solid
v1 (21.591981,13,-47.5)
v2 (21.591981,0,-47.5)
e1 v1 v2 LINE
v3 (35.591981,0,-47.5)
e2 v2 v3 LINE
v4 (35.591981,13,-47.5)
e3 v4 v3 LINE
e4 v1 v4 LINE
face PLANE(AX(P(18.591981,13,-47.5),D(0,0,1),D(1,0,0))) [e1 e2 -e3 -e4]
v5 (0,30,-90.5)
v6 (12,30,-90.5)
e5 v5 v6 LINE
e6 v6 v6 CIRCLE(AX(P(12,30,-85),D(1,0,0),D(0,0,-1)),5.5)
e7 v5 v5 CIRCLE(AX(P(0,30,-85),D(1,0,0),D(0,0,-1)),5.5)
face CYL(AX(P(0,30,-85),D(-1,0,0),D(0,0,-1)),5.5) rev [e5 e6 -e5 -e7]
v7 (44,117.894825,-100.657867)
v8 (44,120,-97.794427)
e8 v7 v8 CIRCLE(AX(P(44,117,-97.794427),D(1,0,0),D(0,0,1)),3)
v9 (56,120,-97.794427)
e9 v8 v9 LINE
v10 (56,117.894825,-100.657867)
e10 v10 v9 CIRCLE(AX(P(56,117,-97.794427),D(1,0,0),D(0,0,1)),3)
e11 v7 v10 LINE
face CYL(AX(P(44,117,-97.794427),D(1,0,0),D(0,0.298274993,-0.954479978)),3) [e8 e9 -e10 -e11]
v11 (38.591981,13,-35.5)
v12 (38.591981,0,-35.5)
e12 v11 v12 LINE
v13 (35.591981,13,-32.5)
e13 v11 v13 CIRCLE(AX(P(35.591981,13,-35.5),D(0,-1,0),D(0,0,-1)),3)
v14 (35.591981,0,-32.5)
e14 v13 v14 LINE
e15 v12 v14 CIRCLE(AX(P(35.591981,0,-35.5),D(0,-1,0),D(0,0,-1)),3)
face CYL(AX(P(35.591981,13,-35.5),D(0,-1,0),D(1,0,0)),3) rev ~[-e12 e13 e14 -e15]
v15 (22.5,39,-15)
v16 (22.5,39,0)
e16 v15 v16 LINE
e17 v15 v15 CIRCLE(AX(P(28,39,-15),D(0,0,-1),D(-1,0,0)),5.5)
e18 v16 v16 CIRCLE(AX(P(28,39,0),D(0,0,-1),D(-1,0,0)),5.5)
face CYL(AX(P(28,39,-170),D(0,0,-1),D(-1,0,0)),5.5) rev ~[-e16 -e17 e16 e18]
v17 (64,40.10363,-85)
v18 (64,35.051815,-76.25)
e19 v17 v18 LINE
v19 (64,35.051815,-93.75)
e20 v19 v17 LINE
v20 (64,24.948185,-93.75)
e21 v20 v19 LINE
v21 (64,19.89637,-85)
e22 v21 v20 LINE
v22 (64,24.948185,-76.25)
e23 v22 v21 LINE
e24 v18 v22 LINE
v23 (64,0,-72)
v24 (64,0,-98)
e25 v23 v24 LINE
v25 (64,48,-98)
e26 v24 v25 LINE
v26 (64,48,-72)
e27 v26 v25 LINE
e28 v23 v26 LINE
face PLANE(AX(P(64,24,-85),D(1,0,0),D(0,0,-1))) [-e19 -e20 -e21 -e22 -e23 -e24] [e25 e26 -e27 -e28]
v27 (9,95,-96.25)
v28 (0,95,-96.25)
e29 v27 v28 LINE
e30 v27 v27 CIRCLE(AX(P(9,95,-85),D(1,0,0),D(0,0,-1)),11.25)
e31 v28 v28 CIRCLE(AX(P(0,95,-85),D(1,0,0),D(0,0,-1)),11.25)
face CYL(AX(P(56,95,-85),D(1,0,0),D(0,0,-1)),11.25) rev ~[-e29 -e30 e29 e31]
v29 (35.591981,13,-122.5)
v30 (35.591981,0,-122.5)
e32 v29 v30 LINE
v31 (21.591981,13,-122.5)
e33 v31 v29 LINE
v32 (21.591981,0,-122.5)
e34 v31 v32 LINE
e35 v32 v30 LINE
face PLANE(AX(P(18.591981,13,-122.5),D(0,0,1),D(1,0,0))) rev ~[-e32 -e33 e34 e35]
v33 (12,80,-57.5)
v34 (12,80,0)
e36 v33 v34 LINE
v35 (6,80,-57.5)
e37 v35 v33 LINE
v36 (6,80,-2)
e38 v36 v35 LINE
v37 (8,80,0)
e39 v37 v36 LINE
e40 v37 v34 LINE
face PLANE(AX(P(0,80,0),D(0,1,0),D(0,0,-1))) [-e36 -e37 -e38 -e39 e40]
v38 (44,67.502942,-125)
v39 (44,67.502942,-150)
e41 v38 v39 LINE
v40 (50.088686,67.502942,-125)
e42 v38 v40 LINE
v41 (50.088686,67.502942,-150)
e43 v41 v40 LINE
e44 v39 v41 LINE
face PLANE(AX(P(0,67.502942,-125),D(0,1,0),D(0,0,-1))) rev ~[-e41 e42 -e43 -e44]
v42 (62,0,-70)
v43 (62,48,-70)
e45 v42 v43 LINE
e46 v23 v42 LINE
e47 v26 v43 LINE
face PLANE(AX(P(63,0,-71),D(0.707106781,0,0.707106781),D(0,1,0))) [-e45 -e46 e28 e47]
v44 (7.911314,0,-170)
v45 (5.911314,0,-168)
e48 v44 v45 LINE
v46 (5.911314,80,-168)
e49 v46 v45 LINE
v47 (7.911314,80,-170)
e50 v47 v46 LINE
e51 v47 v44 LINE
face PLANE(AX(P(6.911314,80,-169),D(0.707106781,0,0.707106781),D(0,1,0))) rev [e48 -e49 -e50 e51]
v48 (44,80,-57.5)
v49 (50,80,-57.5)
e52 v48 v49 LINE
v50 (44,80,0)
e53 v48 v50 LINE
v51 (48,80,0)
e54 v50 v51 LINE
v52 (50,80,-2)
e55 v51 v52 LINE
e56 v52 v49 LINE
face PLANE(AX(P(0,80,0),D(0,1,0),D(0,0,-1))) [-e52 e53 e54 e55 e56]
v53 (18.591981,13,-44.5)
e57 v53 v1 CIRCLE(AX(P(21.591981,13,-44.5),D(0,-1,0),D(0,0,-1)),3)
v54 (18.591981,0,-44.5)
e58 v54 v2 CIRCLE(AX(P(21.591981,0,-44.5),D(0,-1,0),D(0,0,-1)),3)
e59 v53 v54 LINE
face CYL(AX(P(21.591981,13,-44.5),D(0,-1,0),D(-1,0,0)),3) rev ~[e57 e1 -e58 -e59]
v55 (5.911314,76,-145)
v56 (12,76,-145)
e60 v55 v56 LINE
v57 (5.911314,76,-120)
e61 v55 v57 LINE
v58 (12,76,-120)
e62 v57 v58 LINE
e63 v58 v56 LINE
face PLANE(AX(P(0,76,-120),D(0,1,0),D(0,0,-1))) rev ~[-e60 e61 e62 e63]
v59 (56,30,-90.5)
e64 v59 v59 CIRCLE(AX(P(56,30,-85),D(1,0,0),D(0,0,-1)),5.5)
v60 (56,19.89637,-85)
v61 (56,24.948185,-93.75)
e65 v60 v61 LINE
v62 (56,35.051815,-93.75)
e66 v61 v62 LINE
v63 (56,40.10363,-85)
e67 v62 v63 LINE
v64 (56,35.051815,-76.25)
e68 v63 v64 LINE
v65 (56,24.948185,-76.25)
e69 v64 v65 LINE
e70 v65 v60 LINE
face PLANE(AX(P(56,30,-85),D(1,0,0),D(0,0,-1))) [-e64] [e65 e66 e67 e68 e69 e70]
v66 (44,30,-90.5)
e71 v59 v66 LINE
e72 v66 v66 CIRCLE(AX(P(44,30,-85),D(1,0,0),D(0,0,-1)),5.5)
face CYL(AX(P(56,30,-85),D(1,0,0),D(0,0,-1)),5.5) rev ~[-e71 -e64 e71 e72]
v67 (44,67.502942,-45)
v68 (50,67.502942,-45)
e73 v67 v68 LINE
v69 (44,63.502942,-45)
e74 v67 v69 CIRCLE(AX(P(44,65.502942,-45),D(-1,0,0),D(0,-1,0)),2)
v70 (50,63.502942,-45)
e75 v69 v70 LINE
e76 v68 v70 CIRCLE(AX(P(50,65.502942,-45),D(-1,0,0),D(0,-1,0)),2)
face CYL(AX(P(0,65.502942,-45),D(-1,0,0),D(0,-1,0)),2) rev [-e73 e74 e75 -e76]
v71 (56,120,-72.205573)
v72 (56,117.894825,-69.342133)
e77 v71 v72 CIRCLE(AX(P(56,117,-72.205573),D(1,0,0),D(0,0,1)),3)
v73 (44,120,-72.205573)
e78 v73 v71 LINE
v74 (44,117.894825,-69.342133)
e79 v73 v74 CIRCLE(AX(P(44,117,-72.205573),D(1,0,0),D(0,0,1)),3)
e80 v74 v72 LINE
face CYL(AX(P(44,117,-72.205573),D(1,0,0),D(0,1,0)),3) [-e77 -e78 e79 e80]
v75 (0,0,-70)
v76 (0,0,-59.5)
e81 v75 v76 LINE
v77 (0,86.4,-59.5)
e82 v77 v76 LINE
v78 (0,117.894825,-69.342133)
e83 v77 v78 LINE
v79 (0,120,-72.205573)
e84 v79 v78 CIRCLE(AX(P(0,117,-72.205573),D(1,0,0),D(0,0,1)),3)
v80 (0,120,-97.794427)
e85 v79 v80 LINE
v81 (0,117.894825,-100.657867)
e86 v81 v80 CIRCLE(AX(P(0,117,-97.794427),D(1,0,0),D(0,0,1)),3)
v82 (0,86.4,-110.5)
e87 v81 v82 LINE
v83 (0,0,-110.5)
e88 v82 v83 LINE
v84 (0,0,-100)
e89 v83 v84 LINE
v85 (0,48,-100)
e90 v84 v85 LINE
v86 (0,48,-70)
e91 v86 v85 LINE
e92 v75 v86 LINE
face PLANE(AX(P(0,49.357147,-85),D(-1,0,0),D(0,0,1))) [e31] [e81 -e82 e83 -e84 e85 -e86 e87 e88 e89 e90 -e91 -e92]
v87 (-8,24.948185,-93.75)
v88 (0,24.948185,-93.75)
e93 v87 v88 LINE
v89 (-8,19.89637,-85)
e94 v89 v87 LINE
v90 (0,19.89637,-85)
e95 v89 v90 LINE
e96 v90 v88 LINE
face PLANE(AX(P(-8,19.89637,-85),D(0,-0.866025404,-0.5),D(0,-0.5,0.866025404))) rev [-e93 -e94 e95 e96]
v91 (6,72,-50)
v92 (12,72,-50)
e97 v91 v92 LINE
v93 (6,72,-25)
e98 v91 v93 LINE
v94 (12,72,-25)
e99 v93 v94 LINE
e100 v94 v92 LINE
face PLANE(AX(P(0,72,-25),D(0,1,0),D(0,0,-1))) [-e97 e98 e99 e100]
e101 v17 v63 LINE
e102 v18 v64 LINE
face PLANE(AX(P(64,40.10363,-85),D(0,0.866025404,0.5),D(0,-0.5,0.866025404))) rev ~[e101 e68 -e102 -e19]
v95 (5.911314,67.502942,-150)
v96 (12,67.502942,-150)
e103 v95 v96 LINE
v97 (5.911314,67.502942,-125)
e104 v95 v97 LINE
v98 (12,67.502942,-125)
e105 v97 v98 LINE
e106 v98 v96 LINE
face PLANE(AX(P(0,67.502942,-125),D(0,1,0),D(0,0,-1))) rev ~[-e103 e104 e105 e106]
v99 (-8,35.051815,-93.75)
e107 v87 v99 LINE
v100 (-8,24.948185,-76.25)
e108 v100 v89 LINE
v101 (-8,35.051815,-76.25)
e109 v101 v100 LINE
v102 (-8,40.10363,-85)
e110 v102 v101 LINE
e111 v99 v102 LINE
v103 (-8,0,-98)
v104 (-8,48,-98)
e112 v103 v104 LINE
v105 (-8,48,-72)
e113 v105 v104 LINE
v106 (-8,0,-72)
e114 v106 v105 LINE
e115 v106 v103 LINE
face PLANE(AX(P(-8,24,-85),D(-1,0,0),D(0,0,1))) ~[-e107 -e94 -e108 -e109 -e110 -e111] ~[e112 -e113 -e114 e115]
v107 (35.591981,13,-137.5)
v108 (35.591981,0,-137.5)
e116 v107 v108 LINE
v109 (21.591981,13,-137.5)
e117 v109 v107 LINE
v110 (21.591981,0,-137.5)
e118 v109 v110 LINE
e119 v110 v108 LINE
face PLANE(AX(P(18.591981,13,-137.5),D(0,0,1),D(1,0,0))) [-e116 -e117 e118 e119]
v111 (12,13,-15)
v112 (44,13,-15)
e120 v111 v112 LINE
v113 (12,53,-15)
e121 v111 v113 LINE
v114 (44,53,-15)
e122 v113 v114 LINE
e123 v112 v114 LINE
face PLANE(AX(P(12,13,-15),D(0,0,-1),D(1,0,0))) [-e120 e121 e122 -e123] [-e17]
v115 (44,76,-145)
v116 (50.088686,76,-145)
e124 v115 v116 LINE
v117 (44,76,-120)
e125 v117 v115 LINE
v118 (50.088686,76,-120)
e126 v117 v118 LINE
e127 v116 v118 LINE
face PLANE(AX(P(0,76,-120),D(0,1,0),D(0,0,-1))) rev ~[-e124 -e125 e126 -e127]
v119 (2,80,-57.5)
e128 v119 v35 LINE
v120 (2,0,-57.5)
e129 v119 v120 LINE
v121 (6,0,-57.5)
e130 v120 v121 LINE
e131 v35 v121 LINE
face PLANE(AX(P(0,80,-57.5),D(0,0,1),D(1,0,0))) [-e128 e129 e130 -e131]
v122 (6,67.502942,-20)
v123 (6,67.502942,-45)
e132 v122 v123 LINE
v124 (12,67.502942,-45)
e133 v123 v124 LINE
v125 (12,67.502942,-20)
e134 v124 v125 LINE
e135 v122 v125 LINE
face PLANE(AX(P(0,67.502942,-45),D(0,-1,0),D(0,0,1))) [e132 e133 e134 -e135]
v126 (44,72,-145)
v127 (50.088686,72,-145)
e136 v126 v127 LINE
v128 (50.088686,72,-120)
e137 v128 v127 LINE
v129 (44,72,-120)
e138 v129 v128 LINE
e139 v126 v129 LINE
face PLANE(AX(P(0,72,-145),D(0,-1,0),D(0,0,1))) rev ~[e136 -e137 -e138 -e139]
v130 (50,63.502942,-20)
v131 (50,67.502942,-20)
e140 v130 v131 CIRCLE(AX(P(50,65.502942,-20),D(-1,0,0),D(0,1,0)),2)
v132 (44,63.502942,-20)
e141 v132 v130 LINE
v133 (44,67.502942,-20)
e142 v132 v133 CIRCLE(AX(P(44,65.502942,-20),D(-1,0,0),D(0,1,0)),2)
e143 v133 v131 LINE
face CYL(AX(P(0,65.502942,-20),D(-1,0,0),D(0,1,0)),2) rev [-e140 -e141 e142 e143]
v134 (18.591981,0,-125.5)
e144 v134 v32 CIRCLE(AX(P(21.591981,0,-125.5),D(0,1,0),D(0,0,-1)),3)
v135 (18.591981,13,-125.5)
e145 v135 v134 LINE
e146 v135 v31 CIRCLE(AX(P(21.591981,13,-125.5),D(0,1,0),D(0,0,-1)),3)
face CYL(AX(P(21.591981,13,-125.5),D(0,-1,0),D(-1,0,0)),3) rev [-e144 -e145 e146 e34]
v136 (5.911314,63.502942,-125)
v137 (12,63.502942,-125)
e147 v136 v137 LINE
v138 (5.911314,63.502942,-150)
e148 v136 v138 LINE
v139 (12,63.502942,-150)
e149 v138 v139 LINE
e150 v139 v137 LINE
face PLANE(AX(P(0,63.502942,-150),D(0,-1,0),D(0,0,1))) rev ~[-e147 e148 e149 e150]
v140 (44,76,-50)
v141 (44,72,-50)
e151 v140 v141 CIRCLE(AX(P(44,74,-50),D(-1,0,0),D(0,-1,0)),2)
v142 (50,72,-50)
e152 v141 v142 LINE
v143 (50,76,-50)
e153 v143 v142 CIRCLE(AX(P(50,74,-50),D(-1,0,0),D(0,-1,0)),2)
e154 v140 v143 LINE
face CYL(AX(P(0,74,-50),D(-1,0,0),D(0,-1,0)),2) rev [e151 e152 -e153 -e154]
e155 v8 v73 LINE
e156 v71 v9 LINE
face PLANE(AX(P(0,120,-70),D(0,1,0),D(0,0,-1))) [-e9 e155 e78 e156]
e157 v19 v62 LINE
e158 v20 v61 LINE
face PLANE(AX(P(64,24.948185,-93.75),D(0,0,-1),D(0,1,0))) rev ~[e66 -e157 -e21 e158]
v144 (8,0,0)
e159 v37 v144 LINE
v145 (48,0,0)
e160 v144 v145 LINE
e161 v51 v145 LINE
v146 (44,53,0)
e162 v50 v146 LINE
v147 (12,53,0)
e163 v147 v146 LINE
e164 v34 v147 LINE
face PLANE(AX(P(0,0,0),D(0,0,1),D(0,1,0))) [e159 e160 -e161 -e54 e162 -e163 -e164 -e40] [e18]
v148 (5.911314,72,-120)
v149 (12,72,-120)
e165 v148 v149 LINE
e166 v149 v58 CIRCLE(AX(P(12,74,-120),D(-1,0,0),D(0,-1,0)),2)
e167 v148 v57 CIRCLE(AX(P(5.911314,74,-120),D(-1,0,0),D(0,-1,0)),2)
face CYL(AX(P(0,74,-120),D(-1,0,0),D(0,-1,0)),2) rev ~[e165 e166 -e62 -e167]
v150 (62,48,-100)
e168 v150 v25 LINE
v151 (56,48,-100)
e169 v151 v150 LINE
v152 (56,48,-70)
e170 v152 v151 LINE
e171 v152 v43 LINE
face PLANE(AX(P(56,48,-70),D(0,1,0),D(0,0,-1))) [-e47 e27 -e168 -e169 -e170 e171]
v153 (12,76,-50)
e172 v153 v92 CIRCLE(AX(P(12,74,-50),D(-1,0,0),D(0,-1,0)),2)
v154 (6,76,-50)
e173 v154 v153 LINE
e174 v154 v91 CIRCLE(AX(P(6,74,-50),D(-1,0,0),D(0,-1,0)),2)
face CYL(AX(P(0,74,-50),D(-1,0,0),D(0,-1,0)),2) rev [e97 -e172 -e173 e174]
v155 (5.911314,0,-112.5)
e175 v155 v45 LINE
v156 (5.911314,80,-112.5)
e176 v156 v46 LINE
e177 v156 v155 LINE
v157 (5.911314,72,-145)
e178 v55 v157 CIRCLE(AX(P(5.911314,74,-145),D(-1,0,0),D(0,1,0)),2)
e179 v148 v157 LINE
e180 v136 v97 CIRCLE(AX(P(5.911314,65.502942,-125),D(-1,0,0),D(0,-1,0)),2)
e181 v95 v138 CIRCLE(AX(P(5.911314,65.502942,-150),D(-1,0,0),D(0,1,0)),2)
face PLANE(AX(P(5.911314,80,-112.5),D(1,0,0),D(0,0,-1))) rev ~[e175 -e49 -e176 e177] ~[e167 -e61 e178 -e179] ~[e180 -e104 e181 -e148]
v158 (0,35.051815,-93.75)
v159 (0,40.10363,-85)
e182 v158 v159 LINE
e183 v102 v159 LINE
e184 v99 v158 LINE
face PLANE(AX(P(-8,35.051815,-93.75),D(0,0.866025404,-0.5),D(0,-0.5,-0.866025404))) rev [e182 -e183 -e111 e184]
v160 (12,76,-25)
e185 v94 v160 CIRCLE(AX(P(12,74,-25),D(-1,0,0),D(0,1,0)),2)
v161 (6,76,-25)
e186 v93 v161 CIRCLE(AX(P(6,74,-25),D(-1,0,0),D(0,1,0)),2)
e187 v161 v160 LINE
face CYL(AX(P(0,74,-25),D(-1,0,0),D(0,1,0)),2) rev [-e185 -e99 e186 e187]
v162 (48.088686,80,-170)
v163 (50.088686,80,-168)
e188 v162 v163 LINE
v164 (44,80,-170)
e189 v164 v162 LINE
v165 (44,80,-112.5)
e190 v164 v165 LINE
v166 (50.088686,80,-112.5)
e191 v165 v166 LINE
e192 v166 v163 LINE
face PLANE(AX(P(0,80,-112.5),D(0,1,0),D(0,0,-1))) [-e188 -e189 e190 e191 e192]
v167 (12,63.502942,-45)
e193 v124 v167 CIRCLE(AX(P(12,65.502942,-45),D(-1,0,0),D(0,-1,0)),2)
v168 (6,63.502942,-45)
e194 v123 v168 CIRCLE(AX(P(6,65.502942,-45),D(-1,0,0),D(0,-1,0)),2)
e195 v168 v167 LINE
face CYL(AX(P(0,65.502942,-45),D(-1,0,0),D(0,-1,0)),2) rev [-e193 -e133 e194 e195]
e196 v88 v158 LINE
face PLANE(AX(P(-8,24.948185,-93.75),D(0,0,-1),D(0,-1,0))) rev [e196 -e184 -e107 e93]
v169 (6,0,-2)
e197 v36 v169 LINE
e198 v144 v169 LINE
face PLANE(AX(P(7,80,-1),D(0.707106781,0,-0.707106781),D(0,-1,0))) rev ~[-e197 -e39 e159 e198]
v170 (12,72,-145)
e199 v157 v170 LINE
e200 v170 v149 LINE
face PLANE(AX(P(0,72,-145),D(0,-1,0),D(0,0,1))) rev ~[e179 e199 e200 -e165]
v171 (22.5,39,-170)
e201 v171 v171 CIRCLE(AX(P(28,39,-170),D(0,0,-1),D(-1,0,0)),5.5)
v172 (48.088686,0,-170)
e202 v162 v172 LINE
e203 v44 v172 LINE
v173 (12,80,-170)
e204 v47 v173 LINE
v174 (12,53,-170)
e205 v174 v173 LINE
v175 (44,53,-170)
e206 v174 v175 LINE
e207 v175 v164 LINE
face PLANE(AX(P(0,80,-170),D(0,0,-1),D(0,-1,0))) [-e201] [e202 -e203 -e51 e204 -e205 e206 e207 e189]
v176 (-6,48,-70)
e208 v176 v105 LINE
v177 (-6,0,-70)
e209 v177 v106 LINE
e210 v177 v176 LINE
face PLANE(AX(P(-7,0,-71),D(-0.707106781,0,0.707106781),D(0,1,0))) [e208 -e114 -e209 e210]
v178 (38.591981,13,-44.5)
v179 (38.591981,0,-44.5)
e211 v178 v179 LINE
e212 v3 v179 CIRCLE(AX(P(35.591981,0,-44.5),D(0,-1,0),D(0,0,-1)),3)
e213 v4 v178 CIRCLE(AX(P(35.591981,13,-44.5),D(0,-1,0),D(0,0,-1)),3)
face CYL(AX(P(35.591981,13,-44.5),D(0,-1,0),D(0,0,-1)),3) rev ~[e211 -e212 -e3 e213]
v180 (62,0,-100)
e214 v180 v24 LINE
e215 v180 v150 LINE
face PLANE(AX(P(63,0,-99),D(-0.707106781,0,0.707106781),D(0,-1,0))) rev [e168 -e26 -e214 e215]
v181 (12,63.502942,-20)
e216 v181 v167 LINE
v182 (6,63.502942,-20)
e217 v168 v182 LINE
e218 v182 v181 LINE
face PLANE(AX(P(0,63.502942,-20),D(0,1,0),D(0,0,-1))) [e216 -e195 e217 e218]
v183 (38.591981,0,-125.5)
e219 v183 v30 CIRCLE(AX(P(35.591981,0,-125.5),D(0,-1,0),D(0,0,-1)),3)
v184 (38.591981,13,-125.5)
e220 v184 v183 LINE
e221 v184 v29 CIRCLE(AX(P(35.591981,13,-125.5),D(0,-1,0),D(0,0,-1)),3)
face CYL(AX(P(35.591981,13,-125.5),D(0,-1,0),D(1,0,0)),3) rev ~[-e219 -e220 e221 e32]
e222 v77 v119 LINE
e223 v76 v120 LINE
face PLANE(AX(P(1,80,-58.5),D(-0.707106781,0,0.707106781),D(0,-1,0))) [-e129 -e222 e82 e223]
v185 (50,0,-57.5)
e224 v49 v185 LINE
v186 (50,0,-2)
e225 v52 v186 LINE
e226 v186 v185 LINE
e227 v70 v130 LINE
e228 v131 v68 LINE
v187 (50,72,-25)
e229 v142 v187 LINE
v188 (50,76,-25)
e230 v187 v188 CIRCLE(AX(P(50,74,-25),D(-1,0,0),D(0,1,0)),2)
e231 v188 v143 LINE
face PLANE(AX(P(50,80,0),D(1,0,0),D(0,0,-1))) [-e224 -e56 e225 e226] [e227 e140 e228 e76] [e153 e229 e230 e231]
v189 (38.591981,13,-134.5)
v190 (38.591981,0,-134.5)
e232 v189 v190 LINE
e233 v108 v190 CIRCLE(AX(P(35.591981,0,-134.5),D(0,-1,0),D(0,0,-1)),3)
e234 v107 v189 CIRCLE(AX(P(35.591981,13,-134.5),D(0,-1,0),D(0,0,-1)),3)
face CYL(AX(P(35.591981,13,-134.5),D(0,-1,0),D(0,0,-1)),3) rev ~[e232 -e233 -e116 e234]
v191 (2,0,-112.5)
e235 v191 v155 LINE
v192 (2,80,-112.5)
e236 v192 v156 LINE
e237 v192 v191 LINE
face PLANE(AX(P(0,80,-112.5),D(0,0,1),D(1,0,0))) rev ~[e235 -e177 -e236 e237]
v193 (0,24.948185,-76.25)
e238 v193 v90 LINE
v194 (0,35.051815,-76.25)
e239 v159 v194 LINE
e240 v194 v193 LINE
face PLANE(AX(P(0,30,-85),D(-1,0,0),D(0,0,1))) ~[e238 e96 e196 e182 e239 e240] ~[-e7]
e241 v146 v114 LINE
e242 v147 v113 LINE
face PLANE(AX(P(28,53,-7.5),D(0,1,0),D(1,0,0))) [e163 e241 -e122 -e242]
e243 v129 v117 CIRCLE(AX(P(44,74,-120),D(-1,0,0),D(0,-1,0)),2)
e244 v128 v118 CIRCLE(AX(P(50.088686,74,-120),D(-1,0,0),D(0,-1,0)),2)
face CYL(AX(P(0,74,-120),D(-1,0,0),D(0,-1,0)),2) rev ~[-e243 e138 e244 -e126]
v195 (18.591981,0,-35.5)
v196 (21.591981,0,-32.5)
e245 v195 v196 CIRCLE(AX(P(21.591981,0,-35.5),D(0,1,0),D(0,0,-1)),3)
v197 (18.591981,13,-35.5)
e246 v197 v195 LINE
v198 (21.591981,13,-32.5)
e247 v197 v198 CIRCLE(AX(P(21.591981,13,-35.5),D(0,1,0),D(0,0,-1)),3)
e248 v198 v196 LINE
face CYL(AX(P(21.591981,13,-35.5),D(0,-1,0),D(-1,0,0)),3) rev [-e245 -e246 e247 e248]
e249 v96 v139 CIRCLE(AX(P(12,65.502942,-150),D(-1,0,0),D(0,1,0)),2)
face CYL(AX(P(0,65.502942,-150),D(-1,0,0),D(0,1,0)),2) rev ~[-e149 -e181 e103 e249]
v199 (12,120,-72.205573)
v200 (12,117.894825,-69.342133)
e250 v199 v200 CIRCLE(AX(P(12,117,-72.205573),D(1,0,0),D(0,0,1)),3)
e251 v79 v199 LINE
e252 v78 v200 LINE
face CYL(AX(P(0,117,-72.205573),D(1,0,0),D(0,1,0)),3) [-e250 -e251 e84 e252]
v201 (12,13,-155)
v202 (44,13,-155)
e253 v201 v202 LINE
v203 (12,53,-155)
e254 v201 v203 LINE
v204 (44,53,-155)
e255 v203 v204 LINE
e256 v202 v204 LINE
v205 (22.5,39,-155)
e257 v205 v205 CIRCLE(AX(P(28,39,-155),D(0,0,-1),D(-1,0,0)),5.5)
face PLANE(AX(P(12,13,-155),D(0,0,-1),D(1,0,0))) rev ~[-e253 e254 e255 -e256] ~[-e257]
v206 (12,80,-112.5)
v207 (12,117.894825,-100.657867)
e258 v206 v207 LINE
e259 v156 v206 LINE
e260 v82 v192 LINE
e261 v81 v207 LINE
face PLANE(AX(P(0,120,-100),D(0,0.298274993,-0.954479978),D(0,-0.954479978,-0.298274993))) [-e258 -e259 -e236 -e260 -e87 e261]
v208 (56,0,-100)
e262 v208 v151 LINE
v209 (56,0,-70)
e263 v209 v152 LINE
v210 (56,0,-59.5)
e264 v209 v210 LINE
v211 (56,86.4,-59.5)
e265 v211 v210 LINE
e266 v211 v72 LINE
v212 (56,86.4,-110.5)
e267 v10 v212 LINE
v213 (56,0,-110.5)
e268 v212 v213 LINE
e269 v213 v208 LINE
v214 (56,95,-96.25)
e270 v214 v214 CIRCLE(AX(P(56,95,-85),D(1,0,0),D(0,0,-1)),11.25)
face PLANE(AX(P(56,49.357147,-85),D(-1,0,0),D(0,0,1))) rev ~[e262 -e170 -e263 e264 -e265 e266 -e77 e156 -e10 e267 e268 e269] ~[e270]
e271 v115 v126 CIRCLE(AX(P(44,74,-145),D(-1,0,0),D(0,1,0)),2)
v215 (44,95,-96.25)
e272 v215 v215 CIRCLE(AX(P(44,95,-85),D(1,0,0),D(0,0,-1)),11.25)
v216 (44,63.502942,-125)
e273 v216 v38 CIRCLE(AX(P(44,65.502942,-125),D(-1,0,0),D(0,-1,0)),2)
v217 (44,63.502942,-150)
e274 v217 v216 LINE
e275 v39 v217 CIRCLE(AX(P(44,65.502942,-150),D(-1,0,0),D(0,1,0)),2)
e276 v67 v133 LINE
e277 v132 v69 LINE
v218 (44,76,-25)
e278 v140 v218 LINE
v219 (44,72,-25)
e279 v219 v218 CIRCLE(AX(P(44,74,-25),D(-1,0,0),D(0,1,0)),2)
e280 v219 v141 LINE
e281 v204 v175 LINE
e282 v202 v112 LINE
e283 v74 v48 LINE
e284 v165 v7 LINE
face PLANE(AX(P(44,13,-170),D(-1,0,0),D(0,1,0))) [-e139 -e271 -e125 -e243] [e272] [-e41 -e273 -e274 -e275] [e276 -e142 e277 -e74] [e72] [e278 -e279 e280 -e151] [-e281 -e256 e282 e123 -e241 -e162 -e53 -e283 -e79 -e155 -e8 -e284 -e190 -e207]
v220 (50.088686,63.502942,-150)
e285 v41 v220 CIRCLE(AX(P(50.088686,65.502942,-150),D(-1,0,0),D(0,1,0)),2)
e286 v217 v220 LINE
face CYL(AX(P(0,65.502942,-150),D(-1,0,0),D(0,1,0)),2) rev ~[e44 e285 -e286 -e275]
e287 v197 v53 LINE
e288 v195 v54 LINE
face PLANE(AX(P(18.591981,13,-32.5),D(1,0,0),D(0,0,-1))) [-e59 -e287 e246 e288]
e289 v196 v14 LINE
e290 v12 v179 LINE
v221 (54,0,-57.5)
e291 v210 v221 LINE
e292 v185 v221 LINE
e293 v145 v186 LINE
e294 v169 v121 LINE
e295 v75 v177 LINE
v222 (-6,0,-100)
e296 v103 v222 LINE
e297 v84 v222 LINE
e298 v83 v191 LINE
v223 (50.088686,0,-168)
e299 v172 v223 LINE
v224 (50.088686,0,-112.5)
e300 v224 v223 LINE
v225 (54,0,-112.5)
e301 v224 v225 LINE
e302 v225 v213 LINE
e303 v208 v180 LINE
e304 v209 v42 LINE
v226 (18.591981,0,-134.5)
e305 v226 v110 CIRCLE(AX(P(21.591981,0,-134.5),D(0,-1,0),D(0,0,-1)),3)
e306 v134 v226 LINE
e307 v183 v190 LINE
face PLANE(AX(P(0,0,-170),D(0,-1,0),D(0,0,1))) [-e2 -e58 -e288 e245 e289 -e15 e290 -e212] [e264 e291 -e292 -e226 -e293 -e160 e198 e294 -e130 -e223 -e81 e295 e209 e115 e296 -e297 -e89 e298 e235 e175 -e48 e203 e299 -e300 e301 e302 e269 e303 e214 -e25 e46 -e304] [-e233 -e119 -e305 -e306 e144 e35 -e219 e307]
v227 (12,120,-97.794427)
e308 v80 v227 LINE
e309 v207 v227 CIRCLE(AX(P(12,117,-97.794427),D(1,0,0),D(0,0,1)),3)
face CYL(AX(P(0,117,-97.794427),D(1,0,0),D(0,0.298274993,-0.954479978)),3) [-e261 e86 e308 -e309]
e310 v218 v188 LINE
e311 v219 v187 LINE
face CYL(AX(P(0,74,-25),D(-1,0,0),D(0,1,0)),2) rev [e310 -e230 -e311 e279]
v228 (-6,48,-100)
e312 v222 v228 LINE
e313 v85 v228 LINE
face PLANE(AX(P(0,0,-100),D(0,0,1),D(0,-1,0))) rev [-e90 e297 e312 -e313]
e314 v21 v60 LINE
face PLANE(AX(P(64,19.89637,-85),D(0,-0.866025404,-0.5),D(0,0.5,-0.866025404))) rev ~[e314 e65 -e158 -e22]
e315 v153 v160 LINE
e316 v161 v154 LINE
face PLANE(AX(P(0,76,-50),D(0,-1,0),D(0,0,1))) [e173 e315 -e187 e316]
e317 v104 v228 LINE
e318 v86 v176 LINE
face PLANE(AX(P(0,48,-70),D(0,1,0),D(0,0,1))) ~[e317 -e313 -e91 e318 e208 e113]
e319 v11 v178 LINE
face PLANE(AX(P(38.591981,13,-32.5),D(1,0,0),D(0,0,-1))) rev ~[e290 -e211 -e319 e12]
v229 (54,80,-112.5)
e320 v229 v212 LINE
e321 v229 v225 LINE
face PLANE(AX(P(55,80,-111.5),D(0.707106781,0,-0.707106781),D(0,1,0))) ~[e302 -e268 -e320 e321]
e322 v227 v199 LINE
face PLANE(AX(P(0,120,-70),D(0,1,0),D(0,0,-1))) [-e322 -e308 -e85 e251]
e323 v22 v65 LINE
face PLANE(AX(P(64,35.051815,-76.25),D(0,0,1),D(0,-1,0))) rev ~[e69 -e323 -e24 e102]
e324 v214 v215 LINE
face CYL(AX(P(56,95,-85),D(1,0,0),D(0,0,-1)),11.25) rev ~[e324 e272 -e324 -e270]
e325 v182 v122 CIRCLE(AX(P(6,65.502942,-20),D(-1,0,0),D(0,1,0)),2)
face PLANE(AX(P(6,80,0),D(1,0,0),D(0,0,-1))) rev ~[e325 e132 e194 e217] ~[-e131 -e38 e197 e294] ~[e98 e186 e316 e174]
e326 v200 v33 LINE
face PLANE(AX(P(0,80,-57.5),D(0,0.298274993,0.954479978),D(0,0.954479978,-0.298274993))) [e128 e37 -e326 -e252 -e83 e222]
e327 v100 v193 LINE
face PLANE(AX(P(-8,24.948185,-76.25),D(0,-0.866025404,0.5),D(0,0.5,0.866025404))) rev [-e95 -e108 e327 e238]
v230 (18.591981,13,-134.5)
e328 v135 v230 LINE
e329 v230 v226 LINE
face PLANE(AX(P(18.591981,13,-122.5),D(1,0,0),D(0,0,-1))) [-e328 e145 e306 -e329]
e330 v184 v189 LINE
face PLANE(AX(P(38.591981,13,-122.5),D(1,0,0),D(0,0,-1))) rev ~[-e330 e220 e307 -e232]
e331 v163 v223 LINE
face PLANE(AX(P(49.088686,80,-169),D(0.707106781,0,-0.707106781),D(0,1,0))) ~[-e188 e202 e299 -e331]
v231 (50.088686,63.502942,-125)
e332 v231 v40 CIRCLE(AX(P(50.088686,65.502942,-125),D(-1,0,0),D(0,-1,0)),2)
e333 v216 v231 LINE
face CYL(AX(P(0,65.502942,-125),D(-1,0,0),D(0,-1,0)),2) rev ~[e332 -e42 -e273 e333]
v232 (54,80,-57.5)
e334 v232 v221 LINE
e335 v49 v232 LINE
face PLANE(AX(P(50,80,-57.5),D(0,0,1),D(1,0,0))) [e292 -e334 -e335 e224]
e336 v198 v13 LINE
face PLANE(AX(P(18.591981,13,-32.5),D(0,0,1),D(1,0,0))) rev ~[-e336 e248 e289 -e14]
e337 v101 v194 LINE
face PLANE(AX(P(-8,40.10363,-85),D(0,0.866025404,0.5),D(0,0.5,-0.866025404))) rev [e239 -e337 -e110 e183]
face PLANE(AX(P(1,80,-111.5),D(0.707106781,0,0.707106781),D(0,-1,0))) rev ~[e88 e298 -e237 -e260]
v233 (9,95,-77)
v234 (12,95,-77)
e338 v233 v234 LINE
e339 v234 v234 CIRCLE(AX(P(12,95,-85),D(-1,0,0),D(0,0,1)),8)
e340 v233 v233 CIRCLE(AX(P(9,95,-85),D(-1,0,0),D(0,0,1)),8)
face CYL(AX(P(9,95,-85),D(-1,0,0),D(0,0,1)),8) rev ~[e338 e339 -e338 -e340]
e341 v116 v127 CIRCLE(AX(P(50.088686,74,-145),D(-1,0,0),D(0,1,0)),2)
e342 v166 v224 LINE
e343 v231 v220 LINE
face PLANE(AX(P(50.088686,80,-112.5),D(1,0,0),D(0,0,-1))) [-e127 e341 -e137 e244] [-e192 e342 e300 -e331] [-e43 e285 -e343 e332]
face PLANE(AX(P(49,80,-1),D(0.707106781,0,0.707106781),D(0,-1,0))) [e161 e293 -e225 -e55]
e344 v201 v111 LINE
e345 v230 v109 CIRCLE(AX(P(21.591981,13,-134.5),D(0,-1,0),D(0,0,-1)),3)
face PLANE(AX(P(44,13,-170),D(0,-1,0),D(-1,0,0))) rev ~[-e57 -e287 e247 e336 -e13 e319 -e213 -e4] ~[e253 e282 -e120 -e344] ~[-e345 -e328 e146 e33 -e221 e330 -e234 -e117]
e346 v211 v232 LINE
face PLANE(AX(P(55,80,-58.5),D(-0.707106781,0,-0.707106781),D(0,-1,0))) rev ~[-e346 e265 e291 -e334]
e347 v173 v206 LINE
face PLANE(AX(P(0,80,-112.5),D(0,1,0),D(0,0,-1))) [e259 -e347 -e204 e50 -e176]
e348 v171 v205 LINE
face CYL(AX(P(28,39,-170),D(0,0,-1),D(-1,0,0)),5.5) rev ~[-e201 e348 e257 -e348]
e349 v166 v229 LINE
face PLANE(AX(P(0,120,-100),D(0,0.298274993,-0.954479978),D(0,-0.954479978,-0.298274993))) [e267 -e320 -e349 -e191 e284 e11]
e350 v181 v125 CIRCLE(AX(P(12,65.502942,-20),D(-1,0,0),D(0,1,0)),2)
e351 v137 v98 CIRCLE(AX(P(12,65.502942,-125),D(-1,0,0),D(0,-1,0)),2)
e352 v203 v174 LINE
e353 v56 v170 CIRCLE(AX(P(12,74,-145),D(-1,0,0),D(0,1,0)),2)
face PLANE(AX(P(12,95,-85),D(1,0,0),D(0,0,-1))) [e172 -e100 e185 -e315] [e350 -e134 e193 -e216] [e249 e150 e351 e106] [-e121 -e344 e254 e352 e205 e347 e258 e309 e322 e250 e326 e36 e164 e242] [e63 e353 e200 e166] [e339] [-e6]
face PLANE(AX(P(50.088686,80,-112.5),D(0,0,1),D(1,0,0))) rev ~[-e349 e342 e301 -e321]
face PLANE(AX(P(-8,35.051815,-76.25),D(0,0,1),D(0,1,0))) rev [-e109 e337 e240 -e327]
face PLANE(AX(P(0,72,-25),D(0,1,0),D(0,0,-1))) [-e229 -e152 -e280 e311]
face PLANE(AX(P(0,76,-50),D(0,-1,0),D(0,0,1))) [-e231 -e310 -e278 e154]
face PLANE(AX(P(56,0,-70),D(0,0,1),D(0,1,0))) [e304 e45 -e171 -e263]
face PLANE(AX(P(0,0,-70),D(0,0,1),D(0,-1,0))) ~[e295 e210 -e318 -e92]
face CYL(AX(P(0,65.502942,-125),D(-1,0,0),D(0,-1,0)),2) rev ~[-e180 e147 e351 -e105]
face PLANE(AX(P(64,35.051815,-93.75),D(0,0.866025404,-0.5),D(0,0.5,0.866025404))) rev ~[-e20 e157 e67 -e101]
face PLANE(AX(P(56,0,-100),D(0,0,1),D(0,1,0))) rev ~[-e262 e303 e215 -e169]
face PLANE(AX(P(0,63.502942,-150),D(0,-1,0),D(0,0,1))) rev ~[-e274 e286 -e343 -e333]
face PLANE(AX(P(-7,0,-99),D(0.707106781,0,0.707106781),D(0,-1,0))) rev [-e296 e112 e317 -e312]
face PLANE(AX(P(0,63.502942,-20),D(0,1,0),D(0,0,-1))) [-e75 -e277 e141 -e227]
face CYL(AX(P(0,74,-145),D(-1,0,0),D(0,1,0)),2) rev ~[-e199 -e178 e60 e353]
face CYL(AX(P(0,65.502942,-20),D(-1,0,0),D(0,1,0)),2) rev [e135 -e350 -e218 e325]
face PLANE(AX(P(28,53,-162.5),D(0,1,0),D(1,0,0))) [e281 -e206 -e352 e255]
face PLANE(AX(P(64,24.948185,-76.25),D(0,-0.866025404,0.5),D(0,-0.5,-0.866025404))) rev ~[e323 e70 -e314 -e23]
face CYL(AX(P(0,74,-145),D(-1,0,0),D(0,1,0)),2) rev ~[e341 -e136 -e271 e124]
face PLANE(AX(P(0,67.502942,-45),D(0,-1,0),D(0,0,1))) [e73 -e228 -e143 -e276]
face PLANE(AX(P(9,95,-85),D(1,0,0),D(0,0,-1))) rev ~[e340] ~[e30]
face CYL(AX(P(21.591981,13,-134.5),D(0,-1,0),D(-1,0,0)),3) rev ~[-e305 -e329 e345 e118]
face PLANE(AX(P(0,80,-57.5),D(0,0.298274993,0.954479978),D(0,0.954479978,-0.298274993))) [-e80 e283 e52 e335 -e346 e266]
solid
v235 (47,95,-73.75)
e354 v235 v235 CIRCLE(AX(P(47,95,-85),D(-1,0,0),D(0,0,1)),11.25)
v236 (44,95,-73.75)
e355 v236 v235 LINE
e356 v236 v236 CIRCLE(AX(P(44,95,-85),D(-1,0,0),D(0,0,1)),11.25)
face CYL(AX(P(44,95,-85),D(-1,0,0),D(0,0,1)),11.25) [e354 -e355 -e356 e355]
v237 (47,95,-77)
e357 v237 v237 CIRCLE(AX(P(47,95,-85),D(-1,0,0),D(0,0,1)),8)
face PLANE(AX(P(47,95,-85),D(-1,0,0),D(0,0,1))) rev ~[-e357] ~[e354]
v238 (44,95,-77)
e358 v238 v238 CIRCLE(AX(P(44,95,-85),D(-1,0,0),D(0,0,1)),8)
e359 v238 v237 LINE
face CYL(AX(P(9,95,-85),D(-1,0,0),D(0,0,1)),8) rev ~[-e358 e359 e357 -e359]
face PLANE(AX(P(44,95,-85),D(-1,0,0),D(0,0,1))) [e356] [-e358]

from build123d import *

# Parameters (mm, degrees)
BOSS_EXTRUDE1_DEPTH = 56
SKETCH5_W           = 32
SKETCH5_H           = 107
CUT_EXTRUDE2_DEPTH  = 171
SKETCH6_R           = 11.25
CUT_EXTRUDE3_DEPTH  = 57
SKETCH7_W           = 32
SKETCH7_H           = 15
BOSS_EXTRUDE2_DEPTH = 40
SKETCH9_R           = 5.5
CUT_EXTRUDE5_DEPTH  = 171
CUT_EXTRUDE6_DEPTH  = 57
CUT_EXTRUDE13_REACH = 82
SKETCH21_W          = 5.911313501
SKETCH21_H          = 57.5
SKETCH21_W_2        = 6
SKETCH23_R          = 11.25
BOSS_EXTRUDE3_DEPTH = 3
SKETCH26_R          = 11.25
BOSS_EXTRUDE5_DEPTH = 3
SKETCH28_R          = 8
CUT_EXTRUDE16_DEPTH = 47
SKETCH29_W          = 30
SKETCH29_H          = 48
BOSS_EXTRUDE6_DEPTH = 8
CUT_EXTRUDE18_DEPTH = 8
SKETCH32_R          = 5.5
CUT_EXTRUDE19_DEPTH = 12
CHAMFER1_SIZE       = 2
SKETCH34_W          = 20
SKETCH34_H          = 15
CUT_EXTRUDE20_DEPTH = 13
FILLET1_R           = 3
FILLET2_R           = 3


with BuildPart() as part:
    # Sketch1 → Boss-Extrude1 (new body)
    with BuildSketch(Plane(origin=(0, 0, 0), x_dir=(0, 0, -1), z_dir=(1, 0, 0))):
        Polygon((0, 0), (0, 80), (57.5, 80), (70, 120), (100, 120), (112.5, 80), (170, 80), (170, 0), align=None)
    extrude(amount=BOSS_EXTRUDE1_DEPTH)

    # Sketch5 → Cut-Extrude2 (cut, through all)
    with BuildSketch(Plane(origin=(0, 0, -170), x_dir=(-1, 0, 0), z_dir=(0, 0, -1))):
        with Locations((-28, 66.5)):
            Rectangle(SKETCH5_W, SKETCH5_H)
    extrude(amount=-CUT_EXTRUDE2_DEPTH, mode=Mode.SUBTRACT)

    # Sketch6 → Cut-Extrude3 (cut, through all)
    with BuildSketch(Plane(origin=(56, 0, 0), x_dir=(0, 0, -1), z_dir=(1, 0, 0))):
        with Locations((85, 95)):
            Circle(SKETCH6_R)
    extrude(amount=-CUT_EXTRUDE3_DEPTH, mode=Mode.SUBTRACT)

    # Sketch7 → Boss-Extrude2 (add)
    with BuildSketch(Plane(origin=(0, 13, 0), x_dir=(1, 0, 0), z_dir=(0, 1, 0))):
        with Locations((28, 162.5)):
            Rectangle(SKETCH7_W, SKETCH7_H)
        with Locations((28, 7.5)):
            Rectangle(SKETCH7_W, SKETCH7_H)
    extrude(amount=BOSS_EXTRUDE2_DEPTH)

    # Sketch9 → Cut-Extrude5 (cut, through all)
    with BuildSketch(Plane(origin=(0, 0, -170), x_dir=(-1, 0, 0), z_dir=(0, 0, -1))):
        with Locations((-28, 39)):
            Circle(SKETCH9_R)
    extrude(amount=-CUT_EXTRUDE5_DEPTH, mode=Mode.SUBTRACT)

    # Sketch10 → Cut-Extrude6 (cut, through all)
    with BuildSketch(Plane.ZY):
        with BuildLine():
            Line((-120, 76), (-145, 76))
            ThreePointArc((-145, 76), (-147, 74), (-145, 72))
            Line((-145, 72), (-120, 72))
            ThreePointArc((-120, 72), (-118, 74), (-120, 76))
        make_face()
        with BuildLine():
            Line((-125, 67.502941686), (-150, 67.502941686))
            ThreePointArc((-150, 67.502941686), (-152, 65.502941686), (-150, 63.502941686))
            Line((-150, 63.502941686), (-125, 63.502941686))
            ThreePointArc((-125, 63.502941686), (-123, 65.502941686), (-125, 67.502941686))
        make_face()
        with BuildLine():
            ThreePointArc((-25, 76), (-23, 74), (-25, 72))
            Line((-25, 72), (-50, 72))
            ThreePointArc((-50, 72), (-52, 74), (-50, 76))
            Line((-50, 76), (-25, 76))
        make_face()
        with BuildLine():
            ThreePointArc((-20, 67.502941686), (-18, 65.502941686), (-20, 63.502941686))
            Line((-20, 63.502941686), (-45, 63.502941686))
            ThreePointArc((-45, 63.502941686), (-47, 65.502941686), (-45, 67.502941686))
            Line((-45, 67.502941686), (-20, 67.502941686))
        make_face()
    extrude(amount=-CUT_EXTRUDE6_DEPTH, mode=Mode.SUBTRACT)

    # Sketch21 → Cut-Extrude13 (cut, up to next)
    with BuildSketch(Plane(origin=(0, 80, 0), x_dir=(1, 0, 0), z_dir=(0, 1, 0)), mode=Mode.PRIVATE) as cut_extrude13_sk1:
        with Locations((2.955656751, 141.25)):
            Rectangle(SKETCH21_W, SKETCH21_H)
    cut_extrude13_tool1 = extrude(cut_extrude13_sk1.sketch, amount=-CUT_EXTRUDE13_REACH, mode=Mode.PRIVATE) & part.part
    add(cut_extrude13_tool1.solids().sort_by_distance((2.955657, 80, -141.25))[0], mode=Mode.SUBTRACT)
    # Sketch21 → Cut-Extrude13 (cut, up to next)
    with BuildSketch(Plane(origin=(0, 80, 0), x_dir=(1, 0, 0), z_dir=(0, 1, 0)), mode=Mode.PRIVATE) as cut_extrude13_sk2:
        with Locations((3, 28.75)):
            Rectangle(SKETCH21_W_2, SKETCH21_H)
    cut_extrude13_tool2 = extrude(cut_extrude13_sk2.sketch, amount=-CUT_EXTRUDE13_REACH, mode=Mode.PRIVATE) & part.part
    add(cut_extrude13_tool2.solids().sort_by_distance((3, 80, -28.75))[0], mode=Mode.SUBTRACT)
    # Sketch21 → Cut-Extrude13 (cut, up to next)
    with BuildSketch(Plane(origin=(0, 80, 0), x_dir=(1, 0, 0), z_dir=(0, 1, 0)), mode=Mode.PRIVATE) as cut_extrude13_sk3:
        with Locations((53.04434325, 141.25)):
            Rectangle(SKETCH21_W, SKETCH21_H)
    cut_extrude13_tool3 = extrude(cut_extrude13_sk3.sketch, amount=-CUT_EXTRUDE13_REACH, mode=Mode.PRIVATE) & part.part
    add(cut_extrude13_tool3.solids().sort_by_distance((53.044343, 80, -141.25))[0], mode=Mode.SUBTRACT)
    # Sketch21 → Cut-Extrude13 (cut, up to next)
    with BuildSketch(Plane(origin=(0, 80, 0), x_dir=(1, 0, 0), z_dir=(0, 1, 0)), mode=Mode.PRIVATE) as cut_extrude13_sk4:
        with Locations((53, 28.75)):
            Rectangle(SKETCH21_W_2, SKETCH21_H)
    cut_extrude13_tool4 = extrude(cut_extrude13_sk4.sketch, amount=-CUT_EXTRUDE13_REACH, mode=Mode.PRIVATE) & part.part
    add(cut_extrude13_tool4.solids().sort_by_distance((53, 80, -28.75))[0], mode=Mode.SUBTRACT)

    # Sketch23 → Boss-Extrude3 (add)
    with BuildSketch(Plane(origin=(12, 0, 0), x_dir=(0, 0, -1), z_dir=(1, 0, 0))):
        with Locations((85, 95)):
            Circle(SKETCH23_R)
    extrude(amount=-BOSS_EXTRUDE3_DEPTH)


with BuildPart() as body_2:
    # Sketch26 → Boss-Extrude5 (new body)
    with BuildSketch(Plane.ZY.offset(-44)):
        with Locations((-85, 95)):
            Circle(SKETCH26_R)
    extrude(amount=-BOSS_EXTRUDE5_DEPTH)


with BuildPart() as cut_extrude16_tool:
    # Sketch28 → Cut-Extrude16 (new body)
    with BuildSketch(Plane.ZY.offset(-9)):
        with Locations((-85, 95)):
            Circle(SKETCH28_R)
    extrude(amount=-CUT_EXTRUDE16_DEPTH)


with BuildPart() as part_1:
    add(part.part)

    # Cut-Extrude16: cut by cut_extrude16_tool
    add(cut_extrude16_tool.part, mode=Mode.SUBTRACT)

    # Sketch29 → Boss-Extrude6 (add)
    with BuildSketch(Plane(origin=(56, 0, 0), x_dir=(0, 0, -1), z_dir=(1, 0, 0))):
        with Locations((85, 24)):
            Rectangle(SKETCH29_W, SKETCH29_H)
    boss_extrude6 = extrude(amount=BOSS_EXTRUDE6_DEPTH)

    # Sketch31 → Cut-Extrude18 (cut)
    with BuildSketch(Plane(origin=(64, 0, 0), x_dir=(0, 0, -1), z_dir=(1, 0, 0))):
        Polygon((76.25, 24.948185145), (85, 19.896370289), (93.75, 24.948185145), (93.75, 35.051814855), (85, 40.103629711), (76.25, 35.051814855), align=None)
        Polygon((70, 0), (70, 48), (100, 48), (100, 0), (112.5, 0), (112.5, 80), (100, 120), (70, 120), (57.5, 80), (57.5, 0), align=None)
    cut_extrude18 = extrude(amount=-CUT_EXTRUDE18_DEPTH, mode=Mode.SUBTRACT)

    # Sketch32 → Cut-Extrude19 (cut)
    with BuildSketch(Plane(origin=(56, 0, 0), x_dir=(0, 0, -1), z_dir=(1, 0, 0))):
        with Locations((85, 30)):
            Circle(SKETCH32_R)
    cut_extrude19 = extrude(amount=-CUT_EXTRUDE19_DEPTH, mode=Mode.SUBTRACT)

    # Mirror3: Boss-Extrude6 across plane
    add(boss_extrude6.mirror(Plane.ZY.offset(-28)))

    # Mirror4: Cut-Extrude18, Cut-Extrude19 across plane
    add(cut_extrude18.mirror(Plane.ZY.offset(-28)), mode=Mode.SUBTRACT)
    add(cut_extrude19.mirror(Plane.ZY.offset(-28)), mode=Mode.SUBTRACT)

    # Chamfer1
    chamfer1_edges = [part_1.edges().sort_by_distance(p)[0] for p in [
        (56, 40, -112.5),
        (50.088686499, 40, -170),
        (56, 40, -57.5),
        (50, 40, 0),
        (0, 40, -57.5),
        (6, 40, 0),
        (0, 40, -112.5),
        (5.911313501, 40, -170),
        (64, 24, -100),
        (64, 24, -70),
        (-8, 24, -70),
        (-8, 24, -100),
    ]]
    chamfer(chamfer1_edges, length=CHAMFER1_SIZE)

    # Sketch34 → Cut-Extrude20 (cut)
    with BuildSketch(Plane(origin=(0, 13, 0), x_dir=(1, 0, 0), z_dir=(0, 1, 0))):
        with Locations((28.591981111, 130)):
            Rectangle(SKETCH34_W, SKETCH34_H)
        with Locations((28.591981111, 40)):
            Rectangle(SKETCH34_W, SKETCH34_H)
    extrude(amount=-CUT_EXTRUDE20_DEPTH, mode=Mode.SUBTRACT)

    # Fillet1
    fillet1_edges = [part_1.edges().sort_by_distance(p)[0] for p in [
        (18.591981111, 6.5, -122.5),
        (18.591981111, 6.5, -137.5),
        (38.591981111, 6.5, -137.5),
        (38.591981111, 6.5, -122.5),
        (38.591981111, 6.5, -47.5),
        (38.591981111, 6.5, -32.5),
        (18.591981111, 6.5, -32.5),
        (18.591981111, 6.5, -47.5),
    ]]
    fillet(fillet1_edges, radius=FILLET1_R)

    # Fillet2
    fillet2_edges = [part_1.edges().sort_by_distance(p)[0] for p in [
        (50, 120, -70),
        (50, 120, -100),
        (6, 120, -70),
        (6, 120, -100),
    ]]
    fillet(fillet2_edges, radius=FILLET2_R)


with BuildPart() as body_2_1:
    add(body_2.part)

    # Cut-Extrude16: cut by cut_extrude16_tool
    add(cut_extrude16_tool.part, mode=Mode.SUBTRACT)


solid = Compound([part_1.part, body_2_1.part])
